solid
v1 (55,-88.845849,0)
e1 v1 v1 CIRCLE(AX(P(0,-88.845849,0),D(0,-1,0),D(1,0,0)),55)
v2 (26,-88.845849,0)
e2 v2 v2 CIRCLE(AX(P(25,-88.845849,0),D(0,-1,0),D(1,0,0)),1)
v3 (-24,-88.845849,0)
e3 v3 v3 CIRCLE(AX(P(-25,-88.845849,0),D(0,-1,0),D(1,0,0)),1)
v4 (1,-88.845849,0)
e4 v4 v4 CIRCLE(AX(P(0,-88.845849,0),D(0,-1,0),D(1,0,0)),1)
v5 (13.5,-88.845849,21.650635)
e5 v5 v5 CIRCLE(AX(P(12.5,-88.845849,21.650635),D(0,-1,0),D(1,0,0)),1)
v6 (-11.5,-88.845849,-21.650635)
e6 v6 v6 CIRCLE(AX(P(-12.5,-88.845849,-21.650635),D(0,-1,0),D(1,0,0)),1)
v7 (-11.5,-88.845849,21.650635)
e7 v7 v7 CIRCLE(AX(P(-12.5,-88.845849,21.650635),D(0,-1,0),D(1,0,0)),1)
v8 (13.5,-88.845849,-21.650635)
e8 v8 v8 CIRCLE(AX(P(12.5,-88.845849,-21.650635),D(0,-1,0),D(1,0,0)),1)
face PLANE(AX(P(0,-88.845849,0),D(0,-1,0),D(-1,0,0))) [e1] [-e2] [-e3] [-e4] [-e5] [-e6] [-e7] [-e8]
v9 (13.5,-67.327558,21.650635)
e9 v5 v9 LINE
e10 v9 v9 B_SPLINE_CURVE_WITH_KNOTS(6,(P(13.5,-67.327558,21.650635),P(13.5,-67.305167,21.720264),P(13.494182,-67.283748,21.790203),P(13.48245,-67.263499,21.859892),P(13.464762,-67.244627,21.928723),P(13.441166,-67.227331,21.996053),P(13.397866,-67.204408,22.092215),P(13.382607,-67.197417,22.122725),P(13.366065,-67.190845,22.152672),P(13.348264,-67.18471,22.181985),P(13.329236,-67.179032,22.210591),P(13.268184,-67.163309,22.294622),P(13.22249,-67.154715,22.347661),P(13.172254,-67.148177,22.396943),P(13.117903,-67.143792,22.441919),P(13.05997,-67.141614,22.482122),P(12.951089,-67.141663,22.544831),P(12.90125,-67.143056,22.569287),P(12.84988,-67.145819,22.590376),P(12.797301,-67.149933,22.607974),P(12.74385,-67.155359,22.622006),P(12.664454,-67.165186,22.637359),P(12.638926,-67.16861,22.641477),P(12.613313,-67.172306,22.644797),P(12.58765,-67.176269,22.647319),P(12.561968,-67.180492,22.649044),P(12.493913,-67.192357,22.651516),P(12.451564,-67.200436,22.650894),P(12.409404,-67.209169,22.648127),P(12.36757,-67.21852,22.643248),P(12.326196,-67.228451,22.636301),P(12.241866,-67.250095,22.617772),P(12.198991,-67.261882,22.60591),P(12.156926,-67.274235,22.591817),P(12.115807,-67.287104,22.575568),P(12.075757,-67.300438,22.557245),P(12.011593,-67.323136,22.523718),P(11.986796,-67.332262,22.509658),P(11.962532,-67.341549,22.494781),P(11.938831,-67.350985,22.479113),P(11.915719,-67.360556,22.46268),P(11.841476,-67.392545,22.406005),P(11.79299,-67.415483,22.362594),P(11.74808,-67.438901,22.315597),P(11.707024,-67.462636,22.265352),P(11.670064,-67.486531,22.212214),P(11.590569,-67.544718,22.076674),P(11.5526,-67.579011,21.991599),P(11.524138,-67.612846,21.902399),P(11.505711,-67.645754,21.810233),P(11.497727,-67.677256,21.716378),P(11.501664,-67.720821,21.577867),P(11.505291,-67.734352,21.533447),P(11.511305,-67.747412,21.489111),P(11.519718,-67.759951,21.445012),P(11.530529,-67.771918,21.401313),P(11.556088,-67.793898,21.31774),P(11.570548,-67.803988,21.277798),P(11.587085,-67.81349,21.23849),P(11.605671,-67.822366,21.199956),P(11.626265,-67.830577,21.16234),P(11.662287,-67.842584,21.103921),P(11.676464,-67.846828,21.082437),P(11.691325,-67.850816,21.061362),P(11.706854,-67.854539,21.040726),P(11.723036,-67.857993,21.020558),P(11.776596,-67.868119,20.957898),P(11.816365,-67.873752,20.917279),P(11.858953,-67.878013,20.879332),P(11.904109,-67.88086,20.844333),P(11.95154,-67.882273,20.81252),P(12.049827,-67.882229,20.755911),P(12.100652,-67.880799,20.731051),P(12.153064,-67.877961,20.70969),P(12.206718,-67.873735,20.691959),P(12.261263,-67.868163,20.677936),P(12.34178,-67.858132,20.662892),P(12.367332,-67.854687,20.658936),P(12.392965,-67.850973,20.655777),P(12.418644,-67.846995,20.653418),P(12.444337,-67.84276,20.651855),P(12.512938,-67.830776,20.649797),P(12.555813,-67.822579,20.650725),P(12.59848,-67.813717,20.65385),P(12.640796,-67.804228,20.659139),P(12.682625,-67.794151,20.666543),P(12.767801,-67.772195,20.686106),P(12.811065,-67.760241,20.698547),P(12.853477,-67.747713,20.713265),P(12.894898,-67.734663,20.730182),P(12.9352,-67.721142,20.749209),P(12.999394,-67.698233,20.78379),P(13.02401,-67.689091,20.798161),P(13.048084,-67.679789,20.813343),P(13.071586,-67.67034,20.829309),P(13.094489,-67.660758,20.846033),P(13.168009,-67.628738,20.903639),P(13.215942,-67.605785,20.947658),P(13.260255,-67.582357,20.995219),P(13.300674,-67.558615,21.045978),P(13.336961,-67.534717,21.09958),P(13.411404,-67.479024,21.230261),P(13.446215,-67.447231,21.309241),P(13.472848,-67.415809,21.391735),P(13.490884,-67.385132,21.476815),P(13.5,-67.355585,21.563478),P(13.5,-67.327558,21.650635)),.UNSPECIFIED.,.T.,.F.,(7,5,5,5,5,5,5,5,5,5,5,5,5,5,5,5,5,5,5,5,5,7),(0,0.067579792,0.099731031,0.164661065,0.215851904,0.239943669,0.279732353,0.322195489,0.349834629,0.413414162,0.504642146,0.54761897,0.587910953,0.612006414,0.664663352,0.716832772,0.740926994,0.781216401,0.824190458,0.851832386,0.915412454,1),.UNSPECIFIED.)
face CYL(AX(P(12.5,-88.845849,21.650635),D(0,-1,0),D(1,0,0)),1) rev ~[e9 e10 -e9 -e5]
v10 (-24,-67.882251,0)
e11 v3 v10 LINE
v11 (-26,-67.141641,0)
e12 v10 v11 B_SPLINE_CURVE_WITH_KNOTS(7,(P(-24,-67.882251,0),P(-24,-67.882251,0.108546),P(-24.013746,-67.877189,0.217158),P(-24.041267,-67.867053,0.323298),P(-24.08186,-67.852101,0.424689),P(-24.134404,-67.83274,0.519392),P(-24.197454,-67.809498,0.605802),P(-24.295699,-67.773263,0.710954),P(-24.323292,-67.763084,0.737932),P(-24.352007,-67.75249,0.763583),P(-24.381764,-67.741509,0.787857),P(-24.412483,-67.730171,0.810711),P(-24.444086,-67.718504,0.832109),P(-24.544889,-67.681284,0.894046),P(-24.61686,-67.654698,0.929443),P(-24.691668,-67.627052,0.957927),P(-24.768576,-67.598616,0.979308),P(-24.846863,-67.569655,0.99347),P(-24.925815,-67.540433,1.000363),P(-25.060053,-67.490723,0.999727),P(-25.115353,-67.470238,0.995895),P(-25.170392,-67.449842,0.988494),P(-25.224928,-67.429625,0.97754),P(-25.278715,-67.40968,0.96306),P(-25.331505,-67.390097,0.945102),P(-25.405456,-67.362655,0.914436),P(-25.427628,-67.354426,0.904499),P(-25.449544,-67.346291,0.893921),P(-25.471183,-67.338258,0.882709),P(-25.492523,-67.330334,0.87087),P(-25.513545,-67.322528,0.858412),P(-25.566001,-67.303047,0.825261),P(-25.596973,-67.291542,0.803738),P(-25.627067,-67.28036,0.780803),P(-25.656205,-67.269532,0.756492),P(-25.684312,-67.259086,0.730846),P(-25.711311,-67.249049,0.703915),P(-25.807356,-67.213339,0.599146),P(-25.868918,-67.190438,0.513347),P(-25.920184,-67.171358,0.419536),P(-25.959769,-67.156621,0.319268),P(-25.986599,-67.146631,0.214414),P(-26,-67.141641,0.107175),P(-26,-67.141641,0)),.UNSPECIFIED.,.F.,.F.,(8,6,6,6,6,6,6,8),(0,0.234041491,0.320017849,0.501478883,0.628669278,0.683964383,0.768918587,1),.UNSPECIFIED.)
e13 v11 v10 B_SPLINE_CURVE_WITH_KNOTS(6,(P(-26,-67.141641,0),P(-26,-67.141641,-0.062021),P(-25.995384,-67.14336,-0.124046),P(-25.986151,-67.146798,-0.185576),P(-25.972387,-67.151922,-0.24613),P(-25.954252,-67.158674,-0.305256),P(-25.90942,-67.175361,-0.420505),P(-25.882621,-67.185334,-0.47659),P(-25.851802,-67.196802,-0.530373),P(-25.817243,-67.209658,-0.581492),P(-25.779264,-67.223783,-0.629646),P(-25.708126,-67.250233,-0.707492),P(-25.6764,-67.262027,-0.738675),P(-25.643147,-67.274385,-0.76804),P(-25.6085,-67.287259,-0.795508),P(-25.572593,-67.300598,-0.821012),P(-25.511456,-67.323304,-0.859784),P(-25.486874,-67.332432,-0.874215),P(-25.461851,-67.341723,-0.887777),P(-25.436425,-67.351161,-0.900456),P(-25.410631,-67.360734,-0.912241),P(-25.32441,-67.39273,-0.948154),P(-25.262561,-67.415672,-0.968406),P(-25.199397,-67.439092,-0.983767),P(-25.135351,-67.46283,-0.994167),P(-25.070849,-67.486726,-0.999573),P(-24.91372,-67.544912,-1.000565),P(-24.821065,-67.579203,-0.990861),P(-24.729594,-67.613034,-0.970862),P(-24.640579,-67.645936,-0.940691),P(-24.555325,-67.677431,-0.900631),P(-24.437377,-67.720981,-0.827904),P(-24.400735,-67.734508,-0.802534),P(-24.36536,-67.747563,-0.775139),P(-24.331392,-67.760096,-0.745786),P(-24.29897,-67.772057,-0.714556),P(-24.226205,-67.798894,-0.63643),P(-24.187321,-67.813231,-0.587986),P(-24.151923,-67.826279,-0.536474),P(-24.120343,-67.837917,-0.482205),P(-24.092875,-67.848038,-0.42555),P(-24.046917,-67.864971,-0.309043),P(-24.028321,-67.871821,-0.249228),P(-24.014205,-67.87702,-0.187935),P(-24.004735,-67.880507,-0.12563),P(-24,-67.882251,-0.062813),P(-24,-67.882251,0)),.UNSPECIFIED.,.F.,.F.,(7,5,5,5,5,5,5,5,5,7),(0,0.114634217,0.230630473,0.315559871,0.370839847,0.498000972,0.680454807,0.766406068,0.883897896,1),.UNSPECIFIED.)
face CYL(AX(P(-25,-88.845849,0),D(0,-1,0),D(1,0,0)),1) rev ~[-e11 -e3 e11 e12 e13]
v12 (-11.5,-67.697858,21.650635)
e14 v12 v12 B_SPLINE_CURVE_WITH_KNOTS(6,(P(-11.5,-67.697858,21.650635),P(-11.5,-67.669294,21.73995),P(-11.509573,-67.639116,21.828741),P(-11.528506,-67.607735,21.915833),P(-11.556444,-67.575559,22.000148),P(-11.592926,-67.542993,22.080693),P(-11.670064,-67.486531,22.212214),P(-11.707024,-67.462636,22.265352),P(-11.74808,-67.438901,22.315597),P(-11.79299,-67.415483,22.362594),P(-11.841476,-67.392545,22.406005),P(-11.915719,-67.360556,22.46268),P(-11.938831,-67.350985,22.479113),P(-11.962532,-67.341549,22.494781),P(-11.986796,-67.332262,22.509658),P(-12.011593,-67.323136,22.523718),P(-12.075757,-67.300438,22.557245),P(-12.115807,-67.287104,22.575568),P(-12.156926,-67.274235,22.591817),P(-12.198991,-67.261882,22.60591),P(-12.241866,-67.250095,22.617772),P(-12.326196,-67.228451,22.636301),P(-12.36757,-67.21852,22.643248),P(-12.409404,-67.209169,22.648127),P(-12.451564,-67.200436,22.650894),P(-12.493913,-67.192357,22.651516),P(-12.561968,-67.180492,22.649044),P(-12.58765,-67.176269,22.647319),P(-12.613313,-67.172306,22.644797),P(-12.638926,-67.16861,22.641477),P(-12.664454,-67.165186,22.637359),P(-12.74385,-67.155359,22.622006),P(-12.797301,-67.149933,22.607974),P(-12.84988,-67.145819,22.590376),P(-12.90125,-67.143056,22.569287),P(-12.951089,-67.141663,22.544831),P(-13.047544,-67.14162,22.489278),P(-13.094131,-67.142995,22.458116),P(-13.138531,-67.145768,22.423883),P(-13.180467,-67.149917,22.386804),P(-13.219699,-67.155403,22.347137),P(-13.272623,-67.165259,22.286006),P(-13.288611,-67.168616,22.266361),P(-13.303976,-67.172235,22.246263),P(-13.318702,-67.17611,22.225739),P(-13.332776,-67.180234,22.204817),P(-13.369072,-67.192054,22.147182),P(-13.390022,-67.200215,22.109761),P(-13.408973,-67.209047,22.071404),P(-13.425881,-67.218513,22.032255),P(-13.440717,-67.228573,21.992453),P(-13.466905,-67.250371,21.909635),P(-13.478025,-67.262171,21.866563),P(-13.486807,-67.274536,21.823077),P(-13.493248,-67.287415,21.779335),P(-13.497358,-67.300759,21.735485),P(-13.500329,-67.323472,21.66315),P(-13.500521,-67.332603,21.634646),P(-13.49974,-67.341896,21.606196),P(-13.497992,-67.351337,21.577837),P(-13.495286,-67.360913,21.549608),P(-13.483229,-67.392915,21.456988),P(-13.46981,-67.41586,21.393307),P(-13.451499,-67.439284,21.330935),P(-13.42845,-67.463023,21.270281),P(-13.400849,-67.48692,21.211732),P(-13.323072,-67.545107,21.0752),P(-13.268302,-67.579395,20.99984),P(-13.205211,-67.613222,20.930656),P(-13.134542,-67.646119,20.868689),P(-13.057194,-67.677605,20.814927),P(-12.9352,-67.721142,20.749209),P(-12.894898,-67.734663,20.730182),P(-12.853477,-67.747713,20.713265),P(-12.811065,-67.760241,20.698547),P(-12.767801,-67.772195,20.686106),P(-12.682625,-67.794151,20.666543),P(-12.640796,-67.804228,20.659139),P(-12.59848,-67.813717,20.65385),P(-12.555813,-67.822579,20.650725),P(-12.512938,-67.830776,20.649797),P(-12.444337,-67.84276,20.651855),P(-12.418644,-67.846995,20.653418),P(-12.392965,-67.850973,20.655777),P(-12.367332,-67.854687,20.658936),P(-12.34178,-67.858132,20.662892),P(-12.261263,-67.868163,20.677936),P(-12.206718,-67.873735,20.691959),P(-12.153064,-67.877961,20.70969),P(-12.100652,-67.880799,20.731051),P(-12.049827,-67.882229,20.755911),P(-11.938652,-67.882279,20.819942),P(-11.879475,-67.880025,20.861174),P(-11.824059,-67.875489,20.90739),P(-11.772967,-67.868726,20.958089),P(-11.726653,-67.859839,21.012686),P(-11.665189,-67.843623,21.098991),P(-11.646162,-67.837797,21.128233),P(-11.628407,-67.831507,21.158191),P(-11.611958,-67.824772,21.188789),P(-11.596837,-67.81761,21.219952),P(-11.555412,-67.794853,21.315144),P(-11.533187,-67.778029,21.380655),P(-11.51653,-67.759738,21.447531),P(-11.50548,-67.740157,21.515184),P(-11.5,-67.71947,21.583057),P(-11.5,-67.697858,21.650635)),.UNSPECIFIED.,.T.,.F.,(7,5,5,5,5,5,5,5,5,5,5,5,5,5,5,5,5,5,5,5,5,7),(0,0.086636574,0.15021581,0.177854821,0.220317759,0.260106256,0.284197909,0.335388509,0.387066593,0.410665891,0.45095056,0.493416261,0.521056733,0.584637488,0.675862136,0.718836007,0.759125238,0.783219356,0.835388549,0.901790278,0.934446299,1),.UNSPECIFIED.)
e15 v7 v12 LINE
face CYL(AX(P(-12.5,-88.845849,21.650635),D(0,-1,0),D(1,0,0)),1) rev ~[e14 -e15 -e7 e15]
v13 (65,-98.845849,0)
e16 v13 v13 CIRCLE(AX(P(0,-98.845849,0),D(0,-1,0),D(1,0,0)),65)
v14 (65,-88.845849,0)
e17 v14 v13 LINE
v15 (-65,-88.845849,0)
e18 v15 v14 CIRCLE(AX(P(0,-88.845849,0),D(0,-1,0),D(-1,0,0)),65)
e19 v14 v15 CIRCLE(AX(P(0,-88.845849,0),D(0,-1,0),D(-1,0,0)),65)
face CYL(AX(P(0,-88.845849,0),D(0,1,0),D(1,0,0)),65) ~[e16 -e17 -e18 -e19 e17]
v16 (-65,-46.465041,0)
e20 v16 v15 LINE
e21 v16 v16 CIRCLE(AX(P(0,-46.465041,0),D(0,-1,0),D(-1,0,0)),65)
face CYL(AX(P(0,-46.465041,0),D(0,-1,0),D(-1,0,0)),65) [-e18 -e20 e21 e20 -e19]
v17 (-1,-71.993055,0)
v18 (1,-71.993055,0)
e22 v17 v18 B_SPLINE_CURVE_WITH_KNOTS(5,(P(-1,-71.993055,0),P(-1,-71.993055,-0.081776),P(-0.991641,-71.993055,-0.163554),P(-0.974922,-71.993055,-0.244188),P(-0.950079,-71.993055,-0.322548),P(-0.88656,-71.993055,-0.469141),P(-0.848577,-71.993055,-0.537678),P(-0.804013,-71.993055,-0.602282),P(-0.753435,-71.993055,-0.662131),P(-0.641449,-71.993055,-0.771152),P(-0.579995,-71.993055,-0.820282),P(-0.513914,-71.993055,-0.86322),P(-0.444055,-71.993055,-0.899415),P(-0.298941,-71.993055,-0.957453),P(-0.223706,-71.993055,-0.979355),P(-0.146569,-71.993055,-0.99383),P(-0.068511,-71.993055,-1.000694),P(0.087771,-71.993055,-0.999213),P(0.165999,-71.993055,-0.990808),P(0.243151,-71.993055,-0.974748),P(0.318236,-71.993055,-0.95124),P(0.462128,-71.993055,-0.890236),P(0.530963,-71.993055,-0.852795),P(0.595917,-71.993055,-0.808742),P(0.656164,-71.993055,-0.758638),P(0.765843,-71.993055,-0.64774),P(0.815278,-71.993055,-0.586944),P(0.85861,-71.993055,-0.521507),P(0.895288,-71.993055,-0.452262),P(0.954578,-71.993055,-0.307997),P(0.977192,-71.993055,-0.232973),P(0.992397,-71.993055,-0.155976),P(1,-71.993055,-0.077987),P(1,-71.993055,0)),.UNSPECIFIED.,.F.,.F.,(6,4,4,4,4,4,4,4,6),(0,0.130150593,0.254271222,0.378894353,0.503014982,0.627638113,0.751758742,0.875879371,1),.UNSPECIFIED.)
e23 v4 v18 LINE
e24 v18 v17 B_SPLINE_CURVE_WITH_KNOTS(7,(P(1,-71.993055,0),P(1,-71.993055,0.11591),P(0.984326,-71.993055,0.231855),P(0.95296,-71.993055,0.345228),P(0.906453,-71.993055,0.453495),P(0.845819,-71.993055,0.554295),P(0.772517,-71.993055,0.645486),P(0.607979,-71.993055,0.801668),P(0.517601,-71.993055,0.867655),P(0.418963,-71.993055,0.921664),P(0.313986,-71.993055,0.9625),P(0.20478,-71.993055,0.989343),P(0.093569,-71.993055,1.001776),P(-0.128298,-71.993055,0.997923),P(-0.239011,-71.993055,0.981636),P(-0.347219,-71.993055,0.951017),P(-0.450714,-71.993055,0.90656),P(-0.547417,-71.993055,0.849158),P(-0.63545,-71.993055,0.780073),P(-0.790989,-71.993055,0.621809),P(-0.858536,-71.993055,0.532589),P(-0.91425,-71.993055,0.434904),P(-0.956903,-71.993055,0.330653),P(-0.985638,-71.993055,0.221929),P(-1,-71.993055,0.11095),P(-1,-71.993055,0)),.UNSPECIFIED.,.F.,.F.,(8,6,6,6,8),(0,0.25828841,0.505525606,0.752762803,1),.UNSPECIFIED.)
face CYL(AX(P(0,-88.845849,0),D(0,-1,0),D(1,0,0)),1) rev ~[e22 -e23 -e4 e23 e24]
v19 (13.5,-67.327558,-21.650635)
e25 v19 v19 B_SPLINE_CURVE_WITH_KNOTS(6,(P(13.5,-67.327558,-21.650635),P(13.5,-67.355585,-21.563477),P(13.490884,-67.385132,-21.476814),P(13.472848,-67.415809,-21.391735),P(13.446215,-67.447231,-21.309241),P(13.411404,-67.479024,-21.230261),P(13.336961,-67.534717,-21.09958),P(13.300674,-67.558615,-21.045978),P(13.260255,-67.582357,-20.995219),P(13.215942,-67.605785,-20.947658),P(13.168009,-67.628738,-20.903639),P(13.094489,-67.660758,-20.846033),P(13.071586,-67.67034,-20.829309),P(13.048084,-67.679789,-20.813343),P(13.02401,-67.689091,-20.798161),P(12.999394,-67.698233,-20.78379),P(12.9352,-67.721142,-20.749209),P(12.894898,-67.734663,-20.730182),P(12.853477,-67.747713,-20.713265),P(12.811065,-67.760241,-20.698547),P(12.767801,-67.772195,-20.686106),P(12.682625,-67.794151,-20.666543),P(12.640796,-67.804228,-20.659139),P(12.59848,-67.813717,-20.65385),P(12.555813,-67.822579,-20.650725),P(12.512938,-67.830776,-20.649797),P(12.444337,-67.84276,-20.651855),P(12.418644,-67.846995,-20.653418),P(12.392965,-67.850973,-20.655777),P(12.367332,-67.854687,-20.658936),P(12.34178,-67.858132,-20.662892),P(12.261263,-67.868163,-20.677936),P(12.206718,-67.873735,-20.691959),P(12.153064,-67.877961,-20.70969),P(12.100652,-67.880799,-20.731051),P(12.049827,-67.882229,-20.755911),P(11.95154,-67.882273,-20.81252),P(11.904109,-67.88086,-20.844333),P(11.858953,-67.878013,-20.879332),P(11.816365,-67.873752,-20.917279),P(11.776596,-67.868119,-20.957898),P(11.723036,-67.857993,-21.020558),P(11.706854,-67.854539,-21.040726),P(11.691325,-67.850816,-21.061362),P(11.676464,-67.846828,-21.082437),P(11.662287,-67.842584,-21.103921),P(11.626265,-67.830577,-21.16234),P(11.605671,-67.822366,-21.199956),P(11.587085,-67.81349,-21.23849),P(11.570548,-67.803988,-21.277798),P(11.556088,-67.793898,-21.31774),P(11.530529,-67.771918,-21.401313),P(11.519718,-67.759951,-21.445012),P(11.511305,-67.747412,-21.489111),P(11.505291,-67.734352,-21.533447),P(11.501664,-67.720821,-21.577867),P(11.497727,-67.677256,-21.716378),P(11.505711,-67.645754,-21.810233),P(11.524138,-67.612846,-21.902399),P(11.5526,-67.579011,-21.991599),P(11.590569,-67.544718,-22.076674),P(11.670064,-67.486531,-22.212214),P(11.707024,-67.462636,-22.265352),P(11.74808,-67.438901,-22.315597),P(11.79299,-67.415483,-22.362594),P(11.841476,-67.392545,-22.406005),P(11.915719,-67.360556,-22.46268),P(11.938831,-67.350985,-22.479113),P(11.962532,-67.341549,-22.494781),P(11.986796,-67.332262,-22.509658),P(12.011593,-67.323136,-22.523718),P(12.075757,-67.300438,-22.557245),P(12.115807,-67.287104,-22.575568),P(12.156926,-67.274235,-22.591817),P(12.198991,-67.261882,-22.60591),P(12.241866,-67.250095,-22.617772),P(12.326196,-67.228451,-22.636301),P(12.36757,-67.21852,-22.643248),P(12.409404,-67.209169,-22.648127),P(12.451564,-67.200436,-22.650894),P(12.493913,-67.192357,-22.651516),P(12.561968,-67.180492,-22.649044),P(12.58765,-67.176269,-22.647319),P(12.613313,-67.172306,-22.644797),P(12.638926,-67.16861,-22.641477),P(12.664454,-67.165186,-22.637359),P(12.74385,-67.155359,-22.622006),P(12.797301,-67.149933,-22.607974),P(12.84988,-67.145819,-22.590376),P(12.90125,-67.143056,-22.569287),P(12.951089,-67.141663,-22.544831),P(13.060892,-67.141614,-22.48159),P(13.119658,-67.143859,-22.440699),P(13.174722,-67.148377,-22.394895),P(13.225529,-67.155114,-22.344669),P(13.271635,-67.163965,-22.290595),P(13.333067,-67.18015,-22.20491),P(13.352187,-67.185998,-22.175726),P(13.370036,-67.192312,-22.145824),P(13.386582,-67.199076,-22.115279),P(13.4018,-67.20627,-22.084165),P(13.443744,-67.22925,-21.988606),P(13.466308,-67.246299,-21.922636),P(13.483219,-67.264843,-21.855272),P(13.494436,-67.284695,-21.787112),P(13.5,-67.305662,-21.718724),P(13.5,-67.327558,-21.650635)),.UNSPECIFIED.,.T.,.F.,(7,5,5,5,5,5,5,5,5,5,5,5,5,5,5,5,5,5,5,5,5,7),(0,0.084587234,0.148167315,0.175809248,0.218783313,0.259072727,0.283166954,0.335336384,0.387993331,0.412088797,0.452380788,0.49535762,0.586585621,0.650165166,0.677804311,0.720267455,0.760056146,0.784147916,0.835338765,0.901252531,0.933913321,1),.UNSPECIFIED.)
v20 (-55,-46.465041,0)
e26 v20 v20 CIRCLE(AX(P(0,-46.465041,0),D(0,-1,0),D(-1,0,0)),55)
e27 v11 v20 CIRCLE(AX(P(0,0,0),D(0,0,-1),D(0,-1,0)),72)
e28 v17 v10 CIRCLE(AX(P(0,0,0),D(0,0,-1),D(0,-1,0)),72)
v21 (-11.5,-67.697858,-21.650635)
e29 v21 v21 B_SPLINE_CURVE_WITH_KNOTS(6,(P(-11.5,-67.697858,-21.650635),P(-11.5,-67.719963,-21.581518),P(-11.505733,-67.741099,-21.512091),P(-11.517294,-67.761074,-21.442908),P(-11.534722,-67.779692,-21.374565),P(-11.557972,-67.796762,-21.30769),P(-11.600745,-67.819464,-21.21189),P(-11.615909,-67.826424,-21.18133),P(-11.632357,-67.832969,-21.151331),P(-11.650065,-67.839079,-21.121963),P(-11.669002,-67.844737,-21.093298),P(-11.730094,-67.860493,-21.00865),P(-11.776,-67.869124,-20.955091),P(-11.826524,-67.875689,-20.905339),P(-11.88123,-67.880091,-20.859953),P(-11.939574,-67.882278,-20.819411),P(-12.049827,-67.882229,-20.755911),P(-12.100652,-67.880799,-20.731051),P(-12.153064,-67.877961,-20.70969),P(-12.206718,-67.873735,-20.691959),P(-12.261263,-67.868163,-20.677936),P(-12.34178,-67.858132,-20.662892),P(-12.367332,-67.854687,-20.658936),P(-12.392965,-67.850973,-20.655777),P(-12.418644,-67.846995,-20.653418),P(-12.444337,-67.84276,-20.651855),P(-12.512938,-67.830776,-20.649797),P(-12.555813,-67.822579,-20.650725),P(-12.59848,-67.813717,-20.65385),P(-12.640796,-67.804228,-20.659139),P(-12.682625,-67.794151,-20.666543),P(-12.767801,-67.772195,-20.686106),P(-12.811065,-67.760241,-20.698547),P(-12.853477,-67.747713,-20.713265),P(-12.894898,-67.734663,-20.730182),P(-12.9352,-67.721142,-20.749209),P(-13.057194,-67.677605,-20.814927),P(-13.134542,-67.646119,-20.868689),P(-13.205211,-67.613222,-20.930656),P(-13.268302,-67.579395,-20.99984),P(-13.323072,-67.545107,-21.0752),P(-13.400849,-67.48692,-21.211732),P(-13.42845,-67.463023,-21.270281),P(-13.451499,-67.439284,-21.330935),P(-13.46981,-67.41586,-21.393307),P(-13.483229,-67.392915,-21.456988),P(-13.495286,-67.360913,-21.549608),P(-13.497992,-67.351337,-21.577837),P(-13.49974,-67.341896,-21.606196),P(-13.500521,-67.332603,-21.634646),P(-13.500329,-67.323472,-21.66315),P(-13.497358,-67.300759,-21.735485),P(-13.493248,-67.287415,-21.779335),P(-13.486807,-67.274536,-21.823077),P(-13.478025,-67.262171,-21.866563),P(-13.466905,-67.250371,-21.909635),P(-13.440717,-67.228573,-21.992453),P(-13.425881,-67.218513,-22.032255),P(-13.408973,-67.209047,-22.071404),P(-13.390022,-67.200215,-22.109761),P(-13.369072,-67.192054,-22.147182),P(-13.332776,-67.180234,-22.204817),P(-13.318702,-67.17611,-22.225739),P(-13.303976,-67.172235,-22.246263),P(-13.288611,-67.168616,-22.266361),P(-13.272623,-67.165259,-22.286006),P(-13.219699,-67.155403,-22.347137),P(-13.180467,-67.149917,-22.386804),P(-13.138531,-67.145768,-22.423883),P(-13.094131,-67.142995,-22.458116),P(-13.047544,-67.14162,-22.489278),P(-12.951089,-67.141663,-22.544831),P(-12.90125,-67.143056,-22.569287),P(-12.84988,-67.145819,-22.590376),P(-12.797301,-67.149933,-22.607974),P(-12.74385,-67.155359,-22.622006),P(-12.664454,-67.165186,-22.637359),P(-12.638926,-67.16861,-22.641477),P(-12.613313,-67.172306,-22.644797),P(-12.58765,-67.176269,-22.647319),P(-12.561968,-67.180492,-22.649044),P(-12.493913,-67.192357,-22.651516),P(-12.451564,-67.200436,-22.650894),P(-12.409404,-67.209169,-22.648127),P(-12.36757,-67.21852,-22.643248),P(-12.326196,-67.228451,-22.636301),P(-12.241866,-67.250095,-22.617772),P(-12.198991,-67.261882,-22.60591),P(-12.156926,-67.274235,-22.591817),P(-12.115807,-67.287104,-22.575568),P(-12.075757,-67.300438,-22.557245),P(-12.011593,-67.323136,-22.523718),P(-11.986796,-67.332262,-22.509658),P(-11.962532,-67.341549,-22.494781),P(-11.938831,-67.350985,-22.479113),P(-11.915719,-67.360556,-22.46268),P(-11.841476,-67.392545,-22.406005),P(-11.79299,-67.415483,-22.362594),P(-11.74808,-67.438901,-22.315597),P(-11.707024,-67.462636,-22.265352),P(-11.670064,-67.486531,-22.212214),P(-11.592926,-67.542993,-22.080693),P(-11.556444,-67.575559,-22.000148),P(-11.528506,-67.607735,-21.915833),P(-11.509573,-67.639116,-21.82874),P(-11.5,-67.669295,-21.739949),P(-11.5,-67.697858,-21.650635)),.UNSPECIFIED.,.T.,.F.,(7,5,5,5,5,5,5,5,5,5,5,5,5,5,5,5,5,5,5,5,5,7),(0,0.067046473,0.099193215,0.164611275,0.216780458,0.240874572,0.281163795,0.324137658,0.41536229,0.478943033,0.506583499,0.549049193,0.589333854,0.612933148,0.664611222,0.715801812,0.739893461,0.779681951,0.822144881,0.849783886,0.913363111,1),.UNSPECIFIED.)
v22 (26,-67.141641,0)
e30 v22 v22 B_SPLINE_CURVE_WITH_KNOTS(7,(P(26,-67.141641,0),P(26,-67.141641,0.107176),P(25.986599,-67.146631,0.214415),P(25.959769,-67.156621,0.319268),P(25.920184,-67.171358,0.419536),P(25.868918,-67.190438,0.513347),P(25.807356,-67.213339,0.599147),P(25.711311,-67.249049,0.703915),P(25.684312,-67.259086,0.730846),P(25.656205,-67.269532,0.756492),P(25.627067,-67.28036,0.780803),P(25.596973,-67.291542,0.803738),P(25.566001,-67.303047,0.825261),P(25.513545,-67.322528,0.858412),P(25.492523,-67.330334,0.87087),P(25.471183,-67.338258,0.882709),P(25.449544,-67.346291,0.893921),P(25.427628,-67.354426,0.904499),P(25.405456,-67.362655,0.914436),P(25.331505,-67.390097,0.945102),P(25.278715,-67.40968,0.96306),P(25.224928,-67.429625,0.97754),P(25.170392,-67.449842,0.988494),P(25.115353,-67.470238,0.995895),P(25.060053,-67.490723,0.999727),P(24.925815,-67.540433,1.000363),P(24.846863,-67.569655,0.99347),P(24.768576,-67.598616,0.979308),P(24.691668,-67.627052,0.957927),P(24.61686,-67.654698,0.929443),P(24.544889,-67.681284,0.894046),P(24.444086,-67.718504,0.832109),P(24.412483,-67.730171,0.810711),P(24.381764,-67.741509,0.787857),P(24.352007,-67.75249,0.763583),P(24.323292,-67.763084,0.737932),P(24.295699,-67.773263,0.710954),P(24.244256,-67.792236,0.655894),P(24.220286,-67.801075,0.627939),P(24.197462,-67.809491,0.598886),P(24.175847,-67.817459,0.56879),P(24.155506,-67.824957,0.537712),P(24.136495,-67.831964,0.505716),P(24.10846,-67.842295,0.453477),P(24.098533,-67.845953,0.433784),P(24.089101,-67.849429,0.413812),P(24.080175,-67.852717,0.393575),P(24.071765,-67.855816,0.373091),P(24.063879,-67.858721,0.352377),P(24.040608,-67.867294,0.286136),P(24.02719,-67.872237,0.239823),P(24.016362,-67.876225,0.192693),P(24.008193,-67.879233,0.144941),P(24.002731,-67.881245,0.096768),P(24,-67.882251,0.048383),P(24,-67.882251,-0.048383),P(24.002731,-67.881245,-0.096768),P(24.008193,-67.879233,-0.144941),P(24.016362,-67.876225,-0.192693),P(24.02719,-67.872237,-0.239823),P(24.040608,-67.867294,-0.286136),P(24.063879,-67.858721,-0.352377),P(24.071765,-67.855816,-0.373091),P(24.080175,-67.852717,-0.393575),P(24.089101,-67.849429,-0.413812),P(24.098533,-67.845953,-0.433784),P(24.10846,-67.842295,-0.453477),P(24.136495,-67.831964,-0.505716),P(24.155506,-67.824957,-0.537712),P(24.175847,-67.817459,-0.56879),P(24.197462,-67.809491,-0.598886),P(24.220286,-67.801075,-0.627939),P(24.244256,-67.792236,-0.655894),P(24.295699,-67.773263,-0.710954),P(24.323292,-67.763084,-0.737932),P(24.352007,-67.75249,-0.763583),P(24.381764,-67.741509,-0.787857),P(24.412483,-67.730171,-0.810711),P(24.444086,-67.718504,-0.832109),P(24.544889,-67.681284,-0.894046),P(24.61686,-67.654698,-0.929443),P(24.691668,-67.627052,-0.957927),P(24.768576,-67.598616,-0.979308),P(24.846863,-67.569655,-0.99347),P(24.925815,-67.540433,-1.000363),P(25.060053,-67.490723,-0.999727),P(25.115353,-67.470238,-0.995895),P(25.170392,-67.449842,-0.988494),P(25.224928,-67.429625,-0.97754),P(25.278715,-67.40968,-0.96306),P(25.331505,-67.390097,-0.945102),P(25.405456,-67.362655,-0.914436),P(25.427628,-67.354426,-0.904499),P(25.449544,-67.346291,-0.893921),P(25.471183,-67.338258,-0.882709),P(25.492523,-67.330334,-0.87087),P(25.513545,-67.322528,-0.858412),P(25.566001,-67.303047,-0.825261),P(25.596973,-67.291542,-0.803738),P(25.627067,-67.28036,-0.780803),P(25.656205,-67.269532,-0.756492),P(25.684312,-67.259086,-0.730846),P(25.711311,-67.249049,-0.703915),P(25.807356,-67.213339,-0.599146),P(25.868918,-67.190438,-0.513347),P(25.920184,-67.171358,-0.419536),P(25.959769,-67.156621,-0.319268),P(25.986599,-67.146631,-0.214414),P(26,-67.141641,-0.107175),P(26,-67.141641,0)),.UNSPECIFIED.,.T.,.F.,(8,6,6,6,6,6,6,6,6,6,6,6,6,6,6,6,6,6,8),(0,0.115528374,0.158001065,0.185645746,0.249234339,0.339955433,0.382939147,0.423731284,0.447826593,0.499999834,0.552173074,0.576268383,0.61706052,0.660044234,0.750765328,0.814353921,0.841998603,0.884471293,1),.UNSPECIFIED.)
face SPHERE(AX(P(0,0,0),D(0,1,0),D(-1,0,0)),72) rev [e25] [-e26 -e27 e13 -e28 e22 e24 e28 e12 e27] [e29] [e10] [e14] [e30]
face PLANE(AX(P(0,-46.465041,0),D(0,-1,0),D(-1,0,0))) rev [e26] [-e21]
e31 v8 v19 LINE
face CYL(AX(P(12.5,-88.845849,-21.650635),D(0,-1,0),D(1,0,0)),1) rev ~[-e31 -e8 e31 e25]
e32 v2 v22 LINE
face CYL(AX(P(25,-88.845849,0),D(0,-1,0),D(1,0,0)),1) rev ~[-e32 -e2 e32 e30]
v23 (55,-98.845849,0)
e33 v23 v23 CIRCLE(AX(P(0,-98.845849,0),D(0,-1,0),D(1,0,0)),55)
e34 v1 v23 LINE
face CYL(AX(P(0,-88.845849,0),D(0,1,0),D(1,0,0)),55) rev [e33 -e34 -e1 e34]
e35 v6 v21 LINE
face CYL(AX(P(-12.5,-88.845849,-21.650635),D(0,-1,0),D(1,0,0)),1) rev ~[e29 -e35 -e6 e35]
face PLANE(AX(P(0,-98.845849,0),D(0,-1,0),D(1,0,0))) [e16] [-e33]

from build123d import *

# Parameters (mm, degrees)
SKETCH4_R           = 1
CUT_EXTRUDE3_DEPTH  = 43.380808577
SKETCH6_R           = 65
SKETCH6_R_2         = 55
BOSS_EXTRUDE1_DEPTH = 10


with BuildPart() as part:
    # Sketch2 → Revolve1 (revolve)
    with BuildSketch(Plane.XY):
        with BuildLine():
            Line((0, -88.845849199), (0, -72))
            ThreePointArc((0, -72), (-30.319276667, -65.304988036), (-55, -46.465040622))
            Line((-55, -46.465040622), (-65, -46.465040622))
            Line((-65, -46.465040622), (-65, -88.845849199))
            Line((-65, -88.845849199), (-55, -88.845849199))
            Line((-55, -88.845849199), (0, -88.845849199))
        make_face()
    revolve(axis=Axis((0, -72, 0), (0, -1, 0)))

    # Sketch4 → Cut-Extrude3 (cut, through all)
    with BuildSketch(Plane.XZ.offset(88.845849199)):
        Circle(SKETCH4_R)
        with Locations((25, 0)):
            Circle(SKETCH4_R)
        with Locations((12.5, -21.650635095)):
            Circle(SKETCH4_R)
        with Locations((-12.5, -21.650635095)):
            Circle(SKETCH4_R)
        with Locations((-25, 0)):
            Circle(SKETCH4_R)
        with Locations((-12.5, 21.650635095)):
            Circle(SKETCH4_R)
        with Locations((12.5, 21.650635095)):
            Circle(SKETCH4_R)
    extrude(amount=-CUT_EXTRUDE3_DEPTH, mode=Mode.SUBTRACT)

    # Sketch6 → Boss-Extrude1 (add)
    with BuildSketch(Plane.XZ.offset(88.845849199)):
        Circle(SKETCH6_R)
        Circle(SKETCH6_R_2, mode=Mode.SUBTRACT)
    extrude(amount=BOSS_EXTRUDE1_DEPTH)


solid = part.part
